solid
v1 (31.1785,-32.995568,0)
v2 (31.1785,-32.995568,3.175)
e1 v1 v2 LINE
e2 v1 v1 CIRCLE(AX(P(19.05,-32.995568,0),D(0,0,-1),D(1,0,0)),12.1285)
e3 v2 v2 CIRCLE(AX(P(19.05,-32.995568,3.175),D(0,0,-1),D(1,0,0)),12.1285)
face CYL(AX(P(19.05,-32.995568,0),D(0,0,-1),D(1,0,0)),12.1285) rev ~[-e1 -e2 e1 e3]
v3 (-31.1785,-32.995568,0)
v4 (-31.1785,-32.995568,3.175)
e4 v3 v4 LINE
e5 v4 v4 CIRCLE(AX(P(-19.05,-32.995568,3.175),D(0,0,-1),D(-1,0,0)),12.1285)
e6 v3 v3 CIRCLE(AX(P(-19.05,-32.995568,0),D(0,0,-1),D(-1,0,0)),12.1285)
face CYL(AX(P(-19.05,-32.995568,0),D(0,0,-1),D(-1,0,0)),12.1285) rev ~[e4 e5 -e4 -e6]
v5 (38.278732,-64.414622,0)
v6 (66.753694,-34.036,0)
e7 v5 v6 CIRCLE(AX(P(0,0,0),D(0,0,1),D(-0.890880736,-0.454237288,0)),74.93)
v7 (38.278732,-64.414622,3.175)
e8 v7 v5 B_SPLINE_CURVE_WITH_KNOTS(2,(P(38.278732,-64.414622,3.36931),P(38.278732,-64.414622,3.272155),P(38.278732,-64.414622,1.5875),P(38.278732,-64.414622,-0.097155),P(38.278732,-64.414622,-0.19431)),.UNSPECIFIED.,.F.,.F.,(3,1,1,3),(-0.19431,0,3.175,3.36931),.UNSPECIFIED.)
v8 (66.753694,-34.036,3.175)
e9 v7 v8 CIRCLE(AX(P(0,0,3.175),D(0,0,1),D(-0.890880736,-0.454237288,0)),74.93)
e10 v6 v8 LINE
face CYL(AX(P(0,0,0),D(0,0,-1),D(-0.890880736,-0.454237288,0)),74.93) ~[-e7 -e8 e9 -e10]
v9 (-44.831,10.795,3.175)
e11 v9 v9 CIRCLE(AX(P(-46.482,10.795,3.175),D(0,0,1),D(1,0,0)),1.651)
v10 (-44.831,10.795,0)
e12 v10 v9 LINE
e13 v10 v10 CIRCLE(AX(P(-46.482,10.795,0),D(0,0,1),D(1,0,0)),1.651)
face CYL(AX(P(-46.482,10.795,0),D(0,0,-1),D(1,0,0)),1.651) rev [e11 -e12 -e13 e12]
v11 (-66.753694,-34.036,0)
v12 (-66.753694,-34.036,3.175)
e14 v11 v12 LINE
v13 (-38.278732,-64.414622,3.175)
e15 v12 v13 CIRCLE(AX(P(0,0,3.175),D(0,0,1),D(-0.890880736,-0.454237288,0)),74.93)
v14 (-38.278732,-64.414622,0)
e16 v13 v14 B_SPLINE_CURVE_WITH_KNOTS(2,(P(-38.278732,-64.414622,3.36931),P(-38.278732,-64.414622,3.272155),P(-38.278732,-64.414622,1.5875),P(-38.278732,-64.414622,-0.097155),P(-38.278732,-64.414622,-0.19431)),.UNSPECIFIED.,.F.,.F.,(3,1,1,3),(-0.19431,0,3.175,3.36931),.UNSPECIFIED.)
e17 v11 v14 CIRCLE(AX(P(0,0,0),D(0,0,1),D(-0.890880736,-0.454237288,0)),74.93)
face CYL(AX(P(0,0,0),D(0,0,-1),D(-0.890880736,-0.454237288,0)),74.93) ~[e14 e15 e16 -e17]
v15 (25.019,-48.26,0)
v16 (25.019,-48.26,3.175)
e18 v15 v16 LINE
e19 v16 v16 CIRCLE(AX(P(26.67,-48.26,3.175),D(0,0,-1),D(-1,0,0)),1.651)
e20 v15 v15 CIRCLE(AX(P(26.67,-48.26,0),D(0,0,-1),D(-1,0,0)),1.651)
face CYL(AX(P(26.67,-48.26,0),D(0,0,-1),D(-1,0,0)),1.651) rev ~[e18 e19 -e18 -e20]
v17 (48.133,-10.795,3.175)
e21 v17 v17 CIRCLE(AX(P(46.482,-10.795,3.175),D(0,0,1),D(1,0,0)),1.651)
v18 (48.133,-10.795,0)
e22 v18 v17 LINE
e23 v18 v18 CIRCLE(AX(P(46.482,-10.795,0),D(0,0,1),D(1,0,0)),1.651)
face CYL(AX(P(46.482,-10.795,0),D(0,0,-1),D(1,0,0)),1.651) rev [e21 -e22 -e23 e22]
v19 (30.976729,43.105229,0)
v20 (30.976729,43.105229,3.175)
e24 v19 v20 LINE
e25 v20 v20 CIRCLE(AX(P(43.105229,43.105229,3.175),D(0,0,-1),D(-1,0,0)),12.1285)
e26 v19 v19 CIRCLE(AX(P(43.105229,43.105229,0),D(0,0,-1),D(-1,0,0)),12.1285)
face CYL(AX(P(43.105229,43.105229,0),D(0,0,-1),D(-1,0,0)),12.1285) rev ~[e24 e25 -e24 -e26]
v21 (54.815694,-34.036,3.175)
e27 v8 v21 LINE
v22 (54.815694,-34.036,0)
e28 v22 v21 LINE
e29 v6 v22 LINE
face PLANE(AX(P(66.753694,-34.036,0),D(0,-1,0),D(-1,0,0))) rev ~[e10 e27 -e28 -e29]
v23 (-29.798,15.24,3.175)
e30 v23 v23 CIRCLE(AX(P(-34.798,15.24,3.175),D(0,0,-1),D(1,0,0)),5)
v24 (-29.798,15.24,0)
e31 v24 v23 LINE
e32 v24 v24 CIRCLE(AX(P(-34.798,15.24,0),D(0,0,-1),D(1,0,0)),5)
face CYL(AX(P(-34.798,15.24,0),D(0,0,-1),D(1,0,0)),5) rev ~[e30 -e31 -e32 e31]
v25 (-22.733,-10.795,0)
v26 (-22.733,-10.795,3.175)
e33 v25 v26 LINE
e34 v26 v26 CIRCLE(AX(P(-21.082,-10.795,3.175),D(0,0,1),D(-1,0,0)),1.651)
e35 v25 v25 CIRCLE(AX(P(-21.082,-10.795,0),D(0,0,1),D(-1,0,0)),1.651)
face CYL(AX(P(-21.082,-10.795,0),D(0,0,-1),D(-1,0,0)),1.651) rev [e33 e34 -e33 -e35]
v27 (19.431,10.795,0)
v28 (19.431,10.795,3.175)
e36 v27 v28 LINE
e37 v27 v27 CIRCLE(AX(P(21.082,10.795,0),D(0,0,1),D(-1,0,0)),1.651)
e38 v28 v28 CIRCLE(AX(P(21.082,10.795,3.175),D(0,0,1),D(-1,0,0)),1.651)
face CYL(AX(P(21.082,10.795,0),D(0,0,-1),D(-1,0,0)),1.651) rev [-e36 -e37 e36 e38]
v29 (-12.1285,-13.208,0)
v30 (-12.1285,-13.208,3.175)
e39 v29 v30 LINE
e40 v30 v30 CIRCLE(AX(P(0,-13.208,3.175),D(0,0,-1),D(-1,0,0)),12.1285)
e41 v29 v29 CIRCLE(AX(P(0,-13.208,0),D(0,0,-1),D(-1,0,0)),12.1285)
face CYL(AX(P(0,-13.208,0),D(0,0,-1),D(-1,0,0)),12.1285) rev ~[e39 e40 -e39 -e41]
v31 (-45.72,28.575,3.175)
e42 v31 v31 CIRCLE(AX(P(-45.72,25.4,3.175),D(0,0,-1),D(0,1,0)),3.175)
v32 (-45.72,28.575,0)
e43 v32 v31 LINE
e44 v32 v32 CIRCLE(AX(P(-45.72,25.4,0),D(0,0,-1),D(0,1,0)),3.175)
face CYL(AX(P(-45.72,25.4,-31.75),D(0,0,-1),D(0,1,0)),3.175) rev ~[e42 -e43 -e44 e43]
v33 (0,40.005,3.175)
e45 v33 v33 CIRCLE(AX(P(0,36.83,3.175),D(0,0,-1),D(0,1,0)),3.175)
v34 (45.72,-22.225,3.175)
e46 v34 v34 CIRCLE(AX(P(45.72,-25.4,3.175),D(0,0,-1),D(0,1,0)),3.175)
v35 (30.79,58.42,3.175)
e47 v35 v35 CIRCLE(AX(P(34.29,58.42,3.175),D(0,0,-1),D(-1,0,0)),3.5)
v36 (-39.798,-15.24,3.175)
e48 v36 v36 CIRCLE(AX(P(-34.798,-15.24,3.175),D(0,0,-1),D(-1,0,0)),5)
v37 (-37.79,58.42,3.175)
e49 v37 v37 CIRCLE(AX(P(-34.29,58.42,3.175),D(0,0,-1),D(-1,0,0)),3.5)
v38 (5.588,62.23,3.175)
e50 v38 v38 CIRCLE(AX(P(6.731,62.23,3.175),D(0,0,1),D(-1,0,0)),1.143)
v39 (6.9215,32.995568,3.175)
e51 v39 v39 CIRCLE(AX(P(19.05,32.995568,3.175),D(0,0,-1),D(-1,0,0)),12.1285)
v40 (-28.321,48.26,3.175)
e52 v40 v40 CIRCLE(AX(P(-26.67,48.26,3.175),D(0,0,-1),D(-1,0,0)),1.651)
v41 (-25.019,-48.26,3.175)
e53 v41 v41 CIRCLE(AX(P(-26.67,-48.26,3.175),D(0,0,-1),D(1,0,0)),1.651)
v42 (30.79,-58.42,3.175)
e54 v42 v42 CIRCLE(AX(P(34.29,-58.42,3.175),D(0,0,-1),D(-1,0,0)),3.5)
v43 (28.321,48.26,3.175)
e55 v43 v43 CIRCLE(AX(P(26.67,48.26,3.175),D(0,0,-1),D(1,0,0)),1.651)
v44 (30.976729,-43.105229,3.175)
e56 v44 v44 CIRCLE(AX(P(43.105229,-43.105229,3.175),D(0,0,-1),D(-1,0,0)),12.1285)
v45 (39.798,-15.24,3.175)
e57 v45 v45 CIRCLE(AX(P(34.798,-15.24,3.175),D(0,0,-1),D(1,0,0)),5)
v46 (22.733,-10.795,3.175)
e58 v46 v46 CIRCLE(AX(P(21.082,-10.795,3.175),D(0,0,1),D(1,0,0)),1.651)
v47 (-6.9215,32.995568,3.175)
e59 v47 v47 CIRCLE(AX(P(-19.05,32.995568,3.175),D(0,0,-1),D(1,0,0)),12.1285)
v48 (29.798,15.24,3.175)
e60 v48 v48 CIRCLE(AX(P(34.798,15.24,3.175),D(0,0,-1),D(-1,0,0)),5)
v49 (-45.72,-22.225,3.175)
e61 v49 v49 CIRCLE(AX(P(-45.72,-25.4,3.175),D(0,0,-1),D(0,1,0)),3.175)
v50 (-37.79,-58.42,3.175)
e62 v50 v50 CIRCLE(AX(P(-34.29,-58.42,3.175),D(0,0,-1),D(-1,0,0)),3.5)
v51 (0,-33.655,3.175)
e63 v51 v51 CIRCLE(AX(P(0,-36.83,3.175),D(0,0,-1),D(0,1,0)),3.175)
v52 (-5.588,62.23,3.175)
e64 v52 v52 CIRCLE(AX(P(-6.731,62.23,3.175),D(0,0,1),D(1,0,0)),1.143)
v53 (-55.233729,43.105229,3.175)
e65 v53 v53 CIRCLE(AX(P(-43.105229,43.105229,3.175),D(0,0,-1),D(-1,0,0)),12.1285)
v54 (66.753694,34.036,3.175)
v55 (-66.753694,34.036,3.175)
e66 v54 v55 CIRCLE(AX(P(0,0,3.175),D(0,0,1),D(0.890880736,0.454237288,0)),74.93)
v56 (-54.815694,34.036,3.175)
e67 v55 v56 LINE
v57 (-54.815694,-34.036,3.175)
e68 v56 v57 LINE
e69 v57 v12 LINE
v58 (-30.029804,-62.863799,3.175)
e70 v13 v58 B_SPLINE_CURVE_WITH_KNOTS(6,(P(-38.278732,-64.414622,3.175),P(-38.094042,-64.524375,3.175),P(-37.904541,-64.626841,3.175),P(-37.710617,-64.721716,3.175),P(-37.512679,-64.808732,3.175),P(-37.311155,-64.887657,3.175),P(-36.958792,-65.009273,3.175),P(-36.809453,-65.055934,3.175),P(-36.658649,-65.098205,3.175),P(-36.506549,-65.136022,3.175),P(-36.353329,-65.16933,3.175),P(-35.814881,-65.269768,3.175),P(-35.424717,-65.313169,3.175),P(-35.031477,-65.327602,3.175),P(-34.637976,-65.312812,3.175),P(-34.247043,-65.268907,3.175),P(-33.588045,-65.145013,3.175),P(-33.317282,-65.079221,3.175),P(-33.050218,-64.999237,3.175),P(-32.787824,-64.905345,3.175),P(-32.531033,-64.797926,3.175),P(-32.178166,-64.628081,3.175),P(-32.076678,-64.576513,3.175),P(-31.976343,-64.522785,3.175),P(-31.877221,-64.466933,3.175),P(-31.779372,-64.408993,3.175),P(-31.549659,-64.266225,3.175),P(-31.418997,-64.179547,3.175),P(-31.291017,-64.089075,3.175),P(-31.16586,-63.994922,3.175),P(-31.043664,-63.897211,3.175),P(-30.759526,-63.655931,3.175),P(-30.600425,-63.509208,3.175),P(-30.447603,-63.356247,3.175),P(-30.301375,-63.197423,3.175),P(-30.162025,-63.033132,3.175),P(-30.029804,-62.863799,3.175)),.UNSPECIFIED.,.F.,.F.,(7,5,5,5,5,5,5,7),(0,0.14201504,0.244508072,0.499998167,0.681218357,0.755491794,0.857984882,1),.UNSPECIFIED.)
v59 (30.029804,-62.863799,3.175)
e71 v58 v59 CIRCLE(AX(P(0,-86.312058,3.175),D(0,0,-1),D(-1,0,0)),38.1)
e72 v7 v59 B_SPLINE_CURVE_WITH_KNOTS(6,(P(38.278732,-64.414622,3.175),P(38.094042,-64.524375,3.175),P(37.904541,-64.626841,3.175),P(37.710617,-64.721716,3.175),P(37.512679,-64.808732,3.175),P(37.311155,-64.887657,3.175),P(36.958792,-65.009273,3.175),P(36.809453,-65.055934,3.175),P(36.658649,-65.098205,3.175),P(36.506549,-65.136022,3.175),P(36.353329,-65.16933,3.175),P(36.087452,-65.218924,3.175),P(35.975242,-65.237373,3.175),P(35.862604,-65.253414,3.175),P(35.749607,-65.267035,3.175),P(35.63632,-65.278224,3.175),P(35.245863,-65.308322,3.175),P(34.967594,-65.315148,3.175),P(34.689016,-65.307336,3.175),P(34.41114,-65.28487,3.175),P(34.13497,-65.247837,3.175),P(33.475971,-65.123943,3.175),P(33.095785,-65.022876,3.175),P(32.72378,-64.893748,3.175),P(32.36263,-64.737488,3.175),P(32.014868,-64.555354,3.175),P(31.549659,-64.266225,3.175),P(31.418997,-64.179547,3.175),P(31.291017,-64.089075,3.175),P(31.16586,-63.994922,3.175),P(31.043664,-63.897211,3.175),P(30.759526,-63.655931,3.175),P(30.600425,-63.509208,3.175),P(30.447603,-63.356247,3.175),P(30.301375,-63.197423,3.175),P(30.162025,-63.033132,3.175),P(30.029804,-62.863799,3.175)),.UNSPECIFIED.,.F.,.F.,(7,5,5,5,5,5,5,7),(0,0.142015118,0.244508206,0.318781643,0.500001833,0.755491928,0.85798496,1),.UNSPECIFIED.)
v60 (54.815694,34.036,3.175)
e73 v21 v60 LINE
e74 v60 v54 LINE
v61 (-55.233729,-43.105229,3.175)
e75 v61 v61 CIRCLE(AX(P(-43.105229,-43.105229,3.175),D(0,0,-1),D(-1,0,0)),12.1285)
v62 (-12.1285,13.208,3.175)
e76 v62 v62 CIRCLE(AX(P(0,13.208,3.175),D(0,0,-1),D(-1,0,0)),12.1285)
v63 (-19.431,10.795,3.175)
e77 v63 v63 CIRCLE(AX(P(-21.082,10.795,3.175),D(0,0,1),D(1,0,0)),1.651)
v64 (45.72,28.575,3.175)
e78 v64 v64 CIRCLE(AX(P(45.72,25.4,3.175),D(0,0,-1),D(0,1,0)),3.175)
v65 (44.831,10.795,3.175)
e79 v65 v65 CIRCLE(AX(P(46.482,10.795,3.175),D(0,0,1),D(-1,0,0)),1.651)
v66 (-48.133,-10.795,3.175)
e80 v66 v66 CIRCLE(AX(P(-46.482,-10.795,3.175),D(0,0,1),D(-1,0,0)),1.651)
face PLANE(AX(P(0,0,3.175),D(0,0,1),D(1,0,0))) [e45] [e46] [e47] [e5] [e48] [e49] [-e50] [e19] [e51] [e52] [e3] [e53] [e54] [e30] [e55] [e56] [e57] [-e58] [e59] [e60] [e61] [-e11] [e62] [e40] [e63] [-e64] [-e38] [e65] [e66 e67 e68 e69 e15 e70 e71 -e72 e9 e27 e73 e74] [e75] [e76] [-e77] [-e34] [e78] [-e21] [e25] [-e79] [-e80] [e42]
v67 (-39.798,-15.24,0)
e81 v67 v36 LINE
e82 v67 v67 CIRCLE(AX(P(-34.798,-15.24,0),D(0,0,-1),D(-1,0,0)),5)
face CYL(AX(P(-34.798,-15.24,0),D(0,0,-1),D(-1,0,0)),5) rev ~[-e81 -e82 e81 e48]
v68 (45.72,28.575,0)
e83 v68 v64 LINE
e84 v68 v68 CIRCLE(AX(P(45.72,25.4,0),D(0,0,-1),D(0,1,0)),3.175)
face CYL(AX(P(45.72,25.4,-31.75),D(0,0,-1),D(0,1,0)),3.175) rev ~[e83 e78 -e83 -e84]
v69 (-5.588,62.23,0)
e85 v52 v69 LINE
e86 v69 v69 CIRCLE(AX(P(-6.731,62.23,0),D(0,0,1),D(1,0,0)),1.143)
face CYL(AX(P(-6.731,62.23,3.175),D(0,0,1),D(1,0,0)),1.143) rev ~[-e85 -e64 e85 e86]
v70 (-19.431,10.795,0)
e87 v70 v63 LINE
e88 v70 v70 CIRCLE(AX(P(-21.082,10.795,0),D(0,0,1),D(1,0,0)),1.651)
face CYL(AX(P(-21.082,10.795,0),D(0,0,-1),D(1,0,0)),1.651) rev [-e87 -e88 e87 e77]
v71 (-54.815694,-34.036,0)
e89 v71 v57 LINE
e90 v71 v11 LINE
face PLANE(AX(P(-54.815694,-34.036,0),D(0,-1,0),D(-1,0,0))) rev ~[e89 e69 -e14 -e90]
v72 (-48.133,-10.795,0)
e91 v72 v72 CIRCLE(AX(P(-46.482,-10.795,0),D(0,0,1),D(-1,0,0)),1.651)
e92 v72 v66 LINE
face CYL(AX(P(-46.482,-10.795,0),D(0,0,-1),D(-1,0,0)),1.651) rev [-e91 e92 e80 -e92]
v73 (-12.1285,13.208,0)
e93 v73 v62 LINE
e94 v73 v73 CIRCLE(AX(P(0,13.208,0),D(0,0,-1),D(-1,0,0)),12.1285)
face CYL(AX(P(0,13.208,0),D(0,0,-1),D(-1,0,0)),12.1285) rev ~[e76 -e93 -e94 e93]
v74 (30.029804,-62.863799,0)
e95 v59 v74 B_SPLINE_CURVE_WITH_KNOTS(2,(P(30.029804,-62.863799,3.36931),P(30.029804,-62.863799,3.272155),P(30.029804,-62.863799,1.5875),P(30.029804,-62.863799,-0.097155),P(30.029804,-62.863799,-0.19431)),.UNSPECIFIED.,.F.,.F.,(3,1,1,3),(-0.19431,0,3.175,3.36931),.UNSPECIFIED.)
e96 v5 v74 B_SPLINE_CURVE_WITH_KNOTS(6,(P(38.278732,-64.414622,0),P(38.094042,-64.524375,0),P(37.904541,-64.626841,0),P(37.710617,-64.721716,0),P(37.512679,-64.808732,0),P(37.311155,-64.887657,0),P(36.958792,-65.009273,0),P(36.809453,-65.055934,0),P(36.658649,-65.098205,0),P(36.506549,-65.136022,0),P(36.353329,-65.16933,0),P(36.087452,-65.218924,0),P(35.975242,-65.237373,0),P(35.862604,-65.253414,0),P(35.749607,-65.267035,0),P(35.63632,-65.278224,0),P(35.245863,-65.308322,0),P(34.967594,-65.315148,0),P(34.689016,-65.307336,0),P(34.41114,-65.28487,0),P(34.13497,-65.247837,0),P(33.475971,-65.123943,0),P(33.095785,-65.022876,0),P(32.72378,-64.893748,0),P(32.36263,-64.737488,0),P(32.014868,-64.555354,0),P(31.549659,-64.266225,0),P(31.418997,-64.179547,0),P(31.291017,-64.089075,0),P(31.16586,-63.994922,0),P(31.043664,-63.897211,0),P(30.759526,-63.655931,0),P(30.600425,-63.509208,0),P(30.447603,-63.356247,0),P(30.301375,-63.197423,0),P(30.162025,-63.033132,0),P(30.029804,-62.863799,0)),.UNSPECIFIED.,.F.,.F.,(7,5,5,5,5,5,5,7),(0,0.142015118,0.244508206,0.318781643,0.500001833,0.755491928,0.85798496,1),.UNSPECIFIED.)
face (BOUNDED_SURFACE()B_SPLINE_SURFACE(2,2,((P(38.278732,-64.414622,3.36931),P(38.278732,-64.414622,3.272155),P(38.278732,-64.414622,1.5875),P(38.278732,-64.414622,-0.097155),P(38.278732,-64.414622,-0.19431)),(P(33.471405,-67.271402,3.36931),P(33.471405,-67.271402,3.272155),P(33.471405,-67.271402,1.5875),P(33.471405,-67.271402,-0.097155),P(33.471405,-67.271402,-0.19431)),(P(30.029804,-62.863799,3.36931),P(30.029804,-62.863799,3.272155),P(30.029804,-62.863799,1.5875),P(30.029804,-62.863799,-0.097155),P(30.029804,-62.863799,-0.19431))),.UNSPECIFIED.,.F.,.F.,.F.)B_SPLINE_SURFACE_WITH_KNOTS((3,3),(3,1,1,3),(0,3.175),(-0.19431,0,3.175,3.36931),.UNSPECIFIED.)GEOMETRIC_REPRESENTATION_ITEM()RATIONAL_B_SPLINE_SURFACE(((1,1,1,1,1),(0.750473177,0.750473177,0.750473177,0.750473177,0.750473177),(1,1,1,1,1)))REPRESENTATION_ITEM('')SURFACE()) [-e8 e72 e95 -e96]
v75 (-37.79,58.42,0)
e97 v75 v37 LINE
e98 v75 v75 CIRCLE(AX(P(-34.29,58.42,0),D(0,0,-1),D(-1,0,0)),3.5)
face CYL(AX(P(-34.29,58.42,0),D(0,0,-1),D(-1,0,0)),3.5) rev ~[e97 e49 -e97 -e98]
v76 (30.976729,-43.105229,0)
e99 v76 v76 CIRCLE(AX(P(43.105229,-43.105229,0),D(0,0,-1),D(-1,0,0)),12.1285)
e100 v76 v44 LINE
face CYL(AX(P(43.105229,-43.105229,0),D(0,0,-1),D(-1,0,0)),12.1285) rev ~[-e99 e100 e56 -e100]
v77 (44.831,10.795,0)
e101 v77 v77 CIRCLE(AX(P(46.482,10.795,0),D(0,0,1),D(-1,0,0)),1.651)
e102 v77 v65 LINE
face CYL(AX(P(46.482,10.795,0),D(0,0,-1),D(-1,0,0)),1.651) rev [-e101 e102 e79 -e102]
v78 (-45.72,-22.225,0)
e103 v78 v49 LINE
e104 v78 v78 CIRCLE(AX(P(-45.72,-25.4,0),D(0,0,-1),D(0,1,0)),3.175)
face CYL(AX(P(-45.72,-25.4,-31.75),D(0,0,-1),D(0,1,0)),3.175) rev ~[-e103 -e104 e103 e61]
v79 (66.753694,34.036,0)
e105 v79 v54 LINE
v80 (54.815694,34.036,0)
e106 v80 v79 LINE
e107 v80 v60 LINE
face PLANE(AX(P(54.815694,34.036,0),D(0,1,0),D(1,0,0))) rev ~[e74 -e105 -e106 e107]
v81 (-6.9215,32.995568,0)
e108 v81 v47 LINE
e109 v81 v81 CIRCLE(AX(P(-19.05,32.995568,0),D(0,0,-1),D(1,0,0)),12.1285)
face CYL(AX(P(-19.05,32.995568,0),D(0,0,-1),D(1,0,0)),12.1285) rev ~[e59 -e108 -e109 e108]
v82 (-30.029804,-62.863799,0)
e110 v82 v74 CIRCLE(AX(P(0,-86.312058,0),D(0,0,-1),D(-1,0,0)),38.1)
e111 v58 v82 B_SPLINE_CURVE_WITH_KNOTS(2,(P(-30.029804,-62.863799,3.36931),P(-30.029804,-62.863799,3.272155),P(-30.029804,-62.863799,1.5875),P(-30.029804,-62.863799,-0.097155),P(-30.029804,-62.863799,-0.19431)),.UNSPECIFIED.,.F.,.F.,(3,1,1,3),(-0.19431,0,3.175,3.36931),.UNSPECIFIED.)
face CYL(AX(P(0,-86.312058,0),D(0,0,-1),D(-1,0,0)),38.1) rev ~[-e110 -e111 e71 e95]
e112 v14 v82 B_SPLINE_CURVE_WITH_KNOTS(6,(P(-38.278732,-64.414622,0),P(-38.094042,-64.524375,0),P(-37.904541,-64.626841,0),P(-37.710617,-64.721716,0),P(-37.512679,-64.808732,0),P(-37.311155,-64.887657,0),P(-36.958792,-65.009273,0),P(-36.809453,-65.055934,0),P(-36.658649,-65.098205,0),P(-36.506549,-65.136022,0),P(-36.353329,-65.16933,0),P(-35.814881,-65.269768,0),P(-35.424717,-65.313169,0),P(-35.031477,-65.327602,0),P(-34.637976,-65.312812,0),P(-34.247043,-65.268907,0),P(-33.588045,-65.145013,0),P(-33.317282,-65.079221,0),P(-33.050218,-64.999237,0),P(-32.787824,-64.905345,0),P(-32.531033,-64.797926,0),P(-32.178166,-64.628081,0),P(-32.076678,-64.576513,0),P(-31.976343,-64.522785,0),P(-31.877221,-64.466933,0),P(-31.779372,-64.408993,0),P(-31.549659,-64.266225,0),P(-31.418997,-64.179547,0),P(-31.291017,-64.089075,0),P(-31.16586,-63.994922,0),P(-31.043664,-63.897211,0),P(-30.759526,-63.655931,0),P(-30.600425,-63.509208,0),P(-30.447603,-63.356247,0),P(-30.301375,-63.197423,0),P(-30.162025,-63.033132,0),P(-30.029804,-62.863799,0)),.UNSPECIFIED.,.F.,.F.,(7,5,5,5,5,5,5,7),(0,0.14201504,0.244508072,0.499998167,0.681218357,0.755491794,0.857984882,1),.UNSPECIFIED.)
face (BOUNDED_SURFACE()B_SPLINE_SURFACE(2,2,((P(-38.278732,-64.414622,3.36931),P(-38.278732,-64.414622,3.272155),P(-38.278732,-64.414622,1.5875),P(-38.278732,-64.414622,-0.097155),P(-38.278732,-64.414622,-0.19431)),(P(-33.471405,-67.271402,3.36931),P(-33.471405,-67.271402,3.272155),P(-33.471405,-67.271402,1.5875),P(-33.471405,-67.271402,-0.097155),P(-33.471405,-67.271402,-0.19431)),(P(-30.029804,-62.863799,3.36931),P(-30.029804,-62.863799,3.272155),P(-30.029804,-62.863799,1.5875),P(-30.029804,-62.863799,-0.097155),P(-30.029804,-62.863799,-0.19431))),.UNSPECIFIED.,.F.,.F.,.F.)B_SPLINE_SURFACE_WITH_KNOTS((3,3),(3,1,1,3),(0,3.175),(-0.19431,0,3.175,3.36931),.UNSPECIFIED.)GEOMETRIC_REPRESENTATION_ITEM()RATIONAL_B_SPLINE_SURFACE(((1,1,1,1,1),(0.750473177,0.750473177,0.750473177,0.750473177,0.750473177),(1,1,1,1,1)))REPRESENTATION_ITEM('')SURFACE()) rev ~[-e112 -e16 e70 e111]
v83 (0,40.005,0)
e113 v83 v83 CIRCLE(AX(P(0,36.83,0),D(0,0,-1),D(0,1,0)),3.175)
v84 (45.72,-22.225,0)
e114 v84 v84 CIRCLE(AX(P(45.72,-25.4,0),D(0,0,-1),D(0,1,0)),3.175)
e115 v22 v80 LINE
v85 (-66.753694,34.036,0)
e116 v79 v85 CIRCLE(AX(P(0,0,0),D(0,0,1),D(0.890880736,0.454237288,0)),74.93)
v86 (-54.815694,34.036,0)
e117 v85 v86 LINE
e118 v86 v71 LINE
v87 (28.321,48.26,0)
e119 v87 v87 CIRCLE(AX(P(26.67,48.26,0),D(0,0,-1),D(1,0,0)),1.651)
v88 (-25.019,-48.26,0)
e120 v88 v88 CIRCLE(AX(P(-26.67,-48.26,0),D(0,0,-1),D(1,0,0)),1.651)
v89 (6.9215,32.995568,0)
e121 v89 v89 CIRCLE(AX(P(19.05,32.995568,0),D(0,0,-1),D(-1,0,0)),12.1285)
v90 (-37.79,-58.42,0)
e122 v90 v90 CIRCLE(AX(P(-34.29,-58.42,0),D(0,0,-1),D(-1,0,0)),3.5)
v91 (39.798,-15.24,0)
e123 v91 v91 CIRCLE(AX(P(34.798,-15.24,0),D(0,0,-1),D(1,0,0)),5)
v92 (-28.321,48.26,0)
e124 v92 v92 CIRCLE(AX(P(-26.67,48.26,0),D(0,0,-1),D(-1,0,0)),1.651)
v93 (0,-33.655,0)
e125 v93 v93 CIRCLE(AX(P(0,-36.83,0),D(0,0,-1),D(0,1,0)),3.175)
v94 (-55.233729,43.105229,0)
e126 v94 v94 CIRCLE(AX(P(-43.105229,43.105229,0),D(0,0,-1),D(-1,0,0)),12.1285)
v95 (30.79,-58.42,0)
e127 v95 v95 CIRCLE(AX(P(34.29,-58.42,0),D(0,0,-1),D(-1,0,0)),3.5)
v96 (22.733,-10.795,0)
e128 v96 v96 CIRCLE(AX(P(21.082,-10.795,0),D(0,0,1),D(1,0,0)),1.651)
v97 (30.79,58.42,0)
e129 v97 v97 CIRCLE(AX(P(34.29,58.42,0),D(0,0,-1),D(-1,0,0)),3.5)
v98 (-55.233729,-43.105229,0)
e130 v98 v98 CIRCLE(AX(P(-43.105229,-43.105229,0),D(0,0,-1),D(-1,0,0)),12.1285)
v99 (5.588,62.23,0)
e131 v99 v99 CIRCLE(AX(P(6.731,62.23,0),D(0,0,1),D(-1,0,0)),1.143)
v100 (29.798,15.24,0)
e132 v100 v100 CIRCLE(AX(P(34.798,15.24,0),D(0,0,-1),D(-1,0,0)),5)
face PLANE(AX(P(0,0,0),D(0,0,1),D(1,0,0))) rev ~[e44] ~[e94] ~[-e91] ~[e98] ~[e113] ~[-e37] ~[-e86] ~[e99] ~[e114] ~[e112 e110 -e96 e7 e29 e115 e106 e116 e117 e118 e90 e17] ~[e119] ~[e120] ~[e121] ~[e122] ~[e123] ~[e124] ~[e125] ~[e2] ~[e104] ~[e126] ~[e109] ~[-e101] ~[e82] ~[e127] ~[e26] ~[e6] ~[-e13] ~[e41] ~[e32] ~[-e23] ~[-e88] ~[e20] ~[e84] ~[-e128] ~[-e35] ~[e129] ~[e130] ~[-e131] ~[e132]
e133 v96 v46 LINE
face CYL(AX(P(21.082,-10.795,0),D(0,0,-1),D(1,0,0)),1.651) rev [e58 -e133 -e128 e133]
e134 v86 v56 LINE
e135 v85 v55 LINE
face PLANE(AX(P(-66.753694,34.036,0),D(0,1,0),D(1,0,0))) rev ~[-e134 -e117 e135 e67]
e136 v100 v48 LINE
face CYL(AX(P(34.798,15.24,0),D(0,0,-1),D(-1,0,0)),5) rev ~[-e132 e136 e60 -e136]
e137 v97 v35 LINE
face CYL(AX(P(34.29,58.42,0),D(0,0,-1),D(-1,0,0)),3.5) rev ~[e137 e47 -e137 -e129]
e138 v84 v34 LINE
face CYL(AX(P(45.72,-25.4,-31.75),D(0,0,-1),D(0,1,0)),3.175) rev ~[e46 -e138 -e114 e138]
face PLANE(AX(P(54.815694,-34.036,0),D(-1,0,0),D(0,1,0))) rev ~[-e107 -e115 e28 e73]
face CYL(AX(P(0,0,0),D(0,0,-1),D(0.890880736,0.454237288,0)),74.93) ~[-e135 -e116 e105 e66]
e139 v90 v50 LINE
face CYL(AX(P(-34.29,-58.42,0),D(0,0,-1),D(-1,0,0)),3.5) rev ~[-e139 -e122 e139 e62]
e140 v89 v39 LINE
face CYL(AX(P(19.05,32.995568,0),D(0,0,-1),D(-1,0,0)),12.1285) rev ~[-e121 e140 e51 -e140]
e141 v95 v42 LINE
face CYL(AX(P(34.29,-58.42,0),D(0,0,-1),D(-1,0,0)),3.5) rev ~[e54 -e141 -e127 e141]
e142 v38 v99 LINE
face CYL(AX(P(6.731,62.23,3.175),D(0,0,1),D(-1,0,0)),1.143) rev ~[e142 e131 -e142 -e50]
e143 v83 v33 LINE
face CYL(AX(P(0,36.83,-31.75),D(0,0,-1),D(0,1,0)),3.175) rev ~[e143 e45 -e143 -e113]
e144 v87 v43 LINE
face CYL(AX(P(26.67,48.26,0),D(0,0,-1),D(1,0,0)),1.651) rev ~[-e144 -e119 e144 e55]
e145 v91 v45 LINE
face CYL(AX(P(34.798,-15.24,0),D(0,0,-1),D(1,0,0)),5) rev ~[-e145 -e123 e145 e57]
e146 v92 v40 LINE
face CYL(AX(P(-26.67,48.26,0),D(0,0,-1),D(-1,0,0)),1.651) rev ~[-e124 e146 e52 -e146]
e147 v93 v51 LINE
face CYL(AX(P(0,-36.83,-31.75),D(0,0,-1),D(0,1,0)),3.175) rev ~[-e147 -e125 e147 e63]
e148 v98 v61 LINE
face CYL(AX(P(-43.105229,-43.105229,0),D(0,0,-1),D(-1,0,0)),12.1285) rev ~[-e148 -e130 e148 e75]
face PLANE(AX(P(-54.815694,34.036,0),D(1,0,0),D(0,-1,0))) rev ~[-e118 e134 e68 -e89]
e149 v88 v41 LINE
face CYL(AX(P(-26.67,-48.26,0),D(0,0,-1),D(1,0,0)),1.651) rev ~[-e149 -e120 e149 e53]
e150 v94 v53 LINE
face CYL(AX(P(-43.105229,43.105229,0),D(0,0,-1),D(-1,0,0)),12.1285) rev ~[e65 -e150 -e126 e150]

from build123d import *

# Parameters (mm, degrees)
SKETCH1_R               = 1.651
BOSS_EXTRUDE2_DEPTH     = 3.175
SKETCH2_R               = 1.143
CUT_EXTRUDE1_DEPTH      = 101.402396032
SKETCH3_R               = 12.1285
CUT_EXTRUDE2_DEPTH      = 101.402396032
SKETCH4_R               = 38.1
CUT_EXTRUDE3_DEPTH      = 124.46
SKETCH5_R               = 5
CUT_EXTRUDE4_DEPTH      = 101.402396032
SKETCH6_R               = 1.651
CUT_EXTRUDE5_DEPTH      = 223.668813424
SKETCH7_R               = 3.175
CUT_EXTRUDE6_DEPTH      = 226.368754426
CUT_EXTRUDE6_DEPTH_BACK = 226.368754426
FILLET1_R               = 6.35
SKETCH8_R               = 1.651
CUT_EXTRUDE7_DEPTH      = 29.21
SKETCH9_R               = 3.5
CUT_EXTRUDE8_DEPTH      = 101.402396176


with BuildPart() as part:
    # Sketch1 → Boss-Extrude2 (new body)
    with BuildSketch(Plane.XY):
        with BuildLine():
            Line((-66.753693561, 34.036), (-54.815693561, 34.036))
            Line((-54.815693561, 34.036), (-54.815693561, -34.036))
            Line((-54.815693561, -34.036), (-66.753693561, -34.036))
            ThreePointArc((-66.753693561, -34.036), (0, -74.93), (66.753693561, -34.036))
            Line((66.753693561, -34.036), (54.815693561, -34.036))
            Line((54.815693561, -34.036), (54.815693561, 34.036))
            Line((54.815693561, 34.036), (66.753693561, 34.036))
            ThreePointArc((66.753693561, 34.036), (0, 74.93), (-66.753693561, 34.036))
        make_face()
        with Locations((-46.482, 10.795)):
            Circle(SKETCH1_R, mode=Mode.SUBTRACT)
        with Locations((-21.082, 10.795)):
            Circle(SKETCH1_R, mode=Mode.SUBTRACT)
        with Locations(Location((-21.082, -10.795, 0), (0, 0, 180))):
            Circle(SKETCH1_R, mode=Mode.SUBTRACT)
        with Locations(Location((-46.482, -10.795, 0), (0, 0, 180))):
            Circle(SKETCH1_R, mode=Mode.SUBTRACT)
        with Locations((46.482, -10.795)):
            Circle(SKETCH1_R, mode=Mode.SUBTRACT)
        with Locations((21.082, -10.795)):
            Circle(SKETCH1_R, mode=Mode.SUBTRACT)
        with Locations(Location((21.082, 10.795, 0), (0, 0, 180))):
            Circle(SKETCH1_R, mode=Mode.SUBTRACT)
        with Locations(Location((46.482, 10.795, 0), (0, 0, 180))):
            Circle(SKETCH1_R, mode=Mode.SUBTRACT)
    extrude(amount=BOSS_EXTRUDE2_DEPTH)

    # Sketch2 → Cut-Extrude1 (cut, through all)
    with BuildSketch(Plane.XY.offset(3.175)):
        with Locations((-6.731, 62.23)):
            Circle(SKETCH2_R)
        with Locations(Location((6.731, 62.23, 0), (0, 0, 180))):
            Circle(SKETCH2_R)
    extrude(amount=-CUT_EXTRUDE1_DEPTH, mode=Mode.SUBTRACT)

    # Sketch3 → Cut-Extrude2 (cut, through all)
    with BuildSketch(Plane(origin=(0, 0, 0), x_dir=(-1, 0, 0), z_dir=(0, 0, -1))):
        with Locations((0, -13.208)):
            Circle(SKETCH3_R)
        with Locations((0, 13.208)):
            Circle(SKETCH3_R)
        with Locations((-43.105229381, -43.105229381)):
            Circle(SKETCH3_R)
        with Locations((19.05, -32.995567884)):
            Circle(SKETCH3_R)
        with Locations(Location((19.05, 32.995567884, 0), (0, 0, 180))):
            Circle(SKETCH3_R)
        with Locations((-43.105229381, 43.105229381)):
            Circle(SKETCH3_R)
        with Locations((43.105229381, 43.105229381)):
            Circle(SKETCH3_R)
        with Locations((-19.05, 32.995567884)):
            Circle(SKETCH3_R)
        with Locations(Location((-19.05, -32.995567884, 0), (0, 0, 180))):
            Circle(SKETCH3_R)
        with Locations((43.105229381, -43.105229381)):
            Circle(SKETCH3_R)
    extrude(amount=-CUT_EXTRUDE2_DEPTH, mode=Mode.SUBTRACT)

    # Sketch4 → Cut-Extrude3 (cut)
    with BuildSketch(Plane(origin=(0, 0, 0), x_dir=(-1, 0, 0), z_dir=(0, 0, -1))):
        with Locations((0, -86.312058398)):
            Circle(SKETCH4_R)
    extrude(amount=-CUT_EXTRUDE3_DEPTH, mode=Mode.SUBTRACT)

    # Sketch5 → Cut-Extrude4 (cut, through all)
    with BuildSketch(Plane(origin=(0, 0, 0), x_dir=(-1, 0, 0), z_dir=(0, 0, -1))):
        with Locations((34.798, -15.24)):
            Circle(SKETCH5_R)
        with Locations(Location((-34.798, -15.24, 0), (0, 0, 180))):
            Circle(SKETCH5_R)
        with Locations((-34.798, 15.24)):
            Circle(SKETCH5_R)
        with Locations(Location((34.798, 15.24, 0), (0, 0, 180))):
            Circle(SKETCH5_R)
    extrude(amount=-CUT_EXTRUDE4_DEPTH, mode=Mode.SUBTRACT)

    # Sketch6 → Cut-Extrude5 (cut, through all)
    with BuildSketch(Plane(origin=(31.313436391, 132.613959999, 0), x_dir=(0, 1, 0), z_dir=(0, 0, -1))):
        with Locations(Location((-180.873959999, -4.643436391, 0), (0, 0, 270))):
            Circle(SKETCH6_R)
        with Locations(Location((-180.873959999, -57.983436391, 0), (0, 0, 90))):
            Circle(SKETCH6_R)
        with Locations(Location((-84.353959999, -57.983436391, 0), (0, 0, 270))):
            Circle(SKETCH6_R)
        with Locations(Location((-84.353959999, -4.643436391, 0), (0, 0, 90))):
            Circle(SKETCH6_R)
    extrude(amount=-CUT_EXTRUDE5_DEPTH, mode=Mode.SUBTRACT)

    # Sketch7 → Cut-Extrude6 (cut, two sides)
    with BuildSketch(Plane(origin=(31.313436391, 132.613959999, -31.75), x_dir=(0, 1, 0), z_dir=(0, 0, -1))) as cut_extrude6_sk:
        with Locations((-158.013959999, 14.406563609)):
            Circle(SKETCH7_R)
        with Locations((-169.443959999, -31.313436391)):
            Circle(SKETCH7_R)
        with Locations((-158.013959999, -77.033436391)):
            Circle(SKETCH7_R)
        with Locations((-107.213959999, -77.033436391)):
            Circle(SKETCH7_R)
        with Locations((-95.783959999, -31.313436391)):
            Circle(SKETCH7_R)
        with Locations((-107.213959999, 14.406563609)):
            Circle(SKETCH7_R)
    extrude(amount=CUT_EXTRUDE6_DEPTH, mode=Mode.SUBTRACT)
    extrude(cut_extrude6_sk.sketch, amount=-CUT_EXTRUDE6_DEPTH_BACK, mode=Mode.SUBTRACT)

    # Fillet1
    fillet1_edges = [part.edges().sort_by_distance(p)[0] for p in [
        (33.000960548, -67.271401821, 1.5875),
        (-33.000960548, -67.271401821, 1.5875),
    ]]
    fillet(fillet1_edges, radius=FILLET1_R)

    # Sketch8 → Cut-Extrude7 (cut)
    with BuildSketch(Plane(origin=(31.313436391, 132.613959999, -28.575), x_dir=(0, 1, 0), z_dir=(0, 0, -1))):
        with Locations(Location((-191.033959999, 2.976563609, 0), (0, 0, 270))):
            Circle(SKETCH8_R)
        with Locations(Location((-191.033959999, -65.603436391, 0), (0, 0, 270))):
            Circle(SKETCH8_R)
        with Locations(Location((-74.193959999, -65.603436391, 0), (0, 0, 270))):
            Circle(SKETCH8_R)
        with Locations(Location((-74.193959999, 2.976563609, 0), (0, 0, 270))):
            Circle(SKETCH8_R)
    extrude(amount=-CUT_EXTRUDE7_DEPTH, mode=Mode.SUBTRACT)

    # Sketch9 → Cut-Extrude8 (cut, through all)
    with BuildSketch(Plane(origin=(0, 0, 0), x_dir=(-1, 0, 0), z_dir=(0, 0, -1))):
        with Locations((34.29, 58.42)):
            Circle(SKETCH9_R)
        with Locations((-34.29, 58.42)):
            Circle(SKETCH9_R)
        with Locations((-34.29, -58.42)):
            Circle(SKETCH9_R)
        with Locations((34.29, -58.42)):
            Circle(SKETCH9_R)
    extrude(amount=-CUT_EXTRUDE8_DEPTH, mode=Mode.SUBTRACT)


solid = part.part
